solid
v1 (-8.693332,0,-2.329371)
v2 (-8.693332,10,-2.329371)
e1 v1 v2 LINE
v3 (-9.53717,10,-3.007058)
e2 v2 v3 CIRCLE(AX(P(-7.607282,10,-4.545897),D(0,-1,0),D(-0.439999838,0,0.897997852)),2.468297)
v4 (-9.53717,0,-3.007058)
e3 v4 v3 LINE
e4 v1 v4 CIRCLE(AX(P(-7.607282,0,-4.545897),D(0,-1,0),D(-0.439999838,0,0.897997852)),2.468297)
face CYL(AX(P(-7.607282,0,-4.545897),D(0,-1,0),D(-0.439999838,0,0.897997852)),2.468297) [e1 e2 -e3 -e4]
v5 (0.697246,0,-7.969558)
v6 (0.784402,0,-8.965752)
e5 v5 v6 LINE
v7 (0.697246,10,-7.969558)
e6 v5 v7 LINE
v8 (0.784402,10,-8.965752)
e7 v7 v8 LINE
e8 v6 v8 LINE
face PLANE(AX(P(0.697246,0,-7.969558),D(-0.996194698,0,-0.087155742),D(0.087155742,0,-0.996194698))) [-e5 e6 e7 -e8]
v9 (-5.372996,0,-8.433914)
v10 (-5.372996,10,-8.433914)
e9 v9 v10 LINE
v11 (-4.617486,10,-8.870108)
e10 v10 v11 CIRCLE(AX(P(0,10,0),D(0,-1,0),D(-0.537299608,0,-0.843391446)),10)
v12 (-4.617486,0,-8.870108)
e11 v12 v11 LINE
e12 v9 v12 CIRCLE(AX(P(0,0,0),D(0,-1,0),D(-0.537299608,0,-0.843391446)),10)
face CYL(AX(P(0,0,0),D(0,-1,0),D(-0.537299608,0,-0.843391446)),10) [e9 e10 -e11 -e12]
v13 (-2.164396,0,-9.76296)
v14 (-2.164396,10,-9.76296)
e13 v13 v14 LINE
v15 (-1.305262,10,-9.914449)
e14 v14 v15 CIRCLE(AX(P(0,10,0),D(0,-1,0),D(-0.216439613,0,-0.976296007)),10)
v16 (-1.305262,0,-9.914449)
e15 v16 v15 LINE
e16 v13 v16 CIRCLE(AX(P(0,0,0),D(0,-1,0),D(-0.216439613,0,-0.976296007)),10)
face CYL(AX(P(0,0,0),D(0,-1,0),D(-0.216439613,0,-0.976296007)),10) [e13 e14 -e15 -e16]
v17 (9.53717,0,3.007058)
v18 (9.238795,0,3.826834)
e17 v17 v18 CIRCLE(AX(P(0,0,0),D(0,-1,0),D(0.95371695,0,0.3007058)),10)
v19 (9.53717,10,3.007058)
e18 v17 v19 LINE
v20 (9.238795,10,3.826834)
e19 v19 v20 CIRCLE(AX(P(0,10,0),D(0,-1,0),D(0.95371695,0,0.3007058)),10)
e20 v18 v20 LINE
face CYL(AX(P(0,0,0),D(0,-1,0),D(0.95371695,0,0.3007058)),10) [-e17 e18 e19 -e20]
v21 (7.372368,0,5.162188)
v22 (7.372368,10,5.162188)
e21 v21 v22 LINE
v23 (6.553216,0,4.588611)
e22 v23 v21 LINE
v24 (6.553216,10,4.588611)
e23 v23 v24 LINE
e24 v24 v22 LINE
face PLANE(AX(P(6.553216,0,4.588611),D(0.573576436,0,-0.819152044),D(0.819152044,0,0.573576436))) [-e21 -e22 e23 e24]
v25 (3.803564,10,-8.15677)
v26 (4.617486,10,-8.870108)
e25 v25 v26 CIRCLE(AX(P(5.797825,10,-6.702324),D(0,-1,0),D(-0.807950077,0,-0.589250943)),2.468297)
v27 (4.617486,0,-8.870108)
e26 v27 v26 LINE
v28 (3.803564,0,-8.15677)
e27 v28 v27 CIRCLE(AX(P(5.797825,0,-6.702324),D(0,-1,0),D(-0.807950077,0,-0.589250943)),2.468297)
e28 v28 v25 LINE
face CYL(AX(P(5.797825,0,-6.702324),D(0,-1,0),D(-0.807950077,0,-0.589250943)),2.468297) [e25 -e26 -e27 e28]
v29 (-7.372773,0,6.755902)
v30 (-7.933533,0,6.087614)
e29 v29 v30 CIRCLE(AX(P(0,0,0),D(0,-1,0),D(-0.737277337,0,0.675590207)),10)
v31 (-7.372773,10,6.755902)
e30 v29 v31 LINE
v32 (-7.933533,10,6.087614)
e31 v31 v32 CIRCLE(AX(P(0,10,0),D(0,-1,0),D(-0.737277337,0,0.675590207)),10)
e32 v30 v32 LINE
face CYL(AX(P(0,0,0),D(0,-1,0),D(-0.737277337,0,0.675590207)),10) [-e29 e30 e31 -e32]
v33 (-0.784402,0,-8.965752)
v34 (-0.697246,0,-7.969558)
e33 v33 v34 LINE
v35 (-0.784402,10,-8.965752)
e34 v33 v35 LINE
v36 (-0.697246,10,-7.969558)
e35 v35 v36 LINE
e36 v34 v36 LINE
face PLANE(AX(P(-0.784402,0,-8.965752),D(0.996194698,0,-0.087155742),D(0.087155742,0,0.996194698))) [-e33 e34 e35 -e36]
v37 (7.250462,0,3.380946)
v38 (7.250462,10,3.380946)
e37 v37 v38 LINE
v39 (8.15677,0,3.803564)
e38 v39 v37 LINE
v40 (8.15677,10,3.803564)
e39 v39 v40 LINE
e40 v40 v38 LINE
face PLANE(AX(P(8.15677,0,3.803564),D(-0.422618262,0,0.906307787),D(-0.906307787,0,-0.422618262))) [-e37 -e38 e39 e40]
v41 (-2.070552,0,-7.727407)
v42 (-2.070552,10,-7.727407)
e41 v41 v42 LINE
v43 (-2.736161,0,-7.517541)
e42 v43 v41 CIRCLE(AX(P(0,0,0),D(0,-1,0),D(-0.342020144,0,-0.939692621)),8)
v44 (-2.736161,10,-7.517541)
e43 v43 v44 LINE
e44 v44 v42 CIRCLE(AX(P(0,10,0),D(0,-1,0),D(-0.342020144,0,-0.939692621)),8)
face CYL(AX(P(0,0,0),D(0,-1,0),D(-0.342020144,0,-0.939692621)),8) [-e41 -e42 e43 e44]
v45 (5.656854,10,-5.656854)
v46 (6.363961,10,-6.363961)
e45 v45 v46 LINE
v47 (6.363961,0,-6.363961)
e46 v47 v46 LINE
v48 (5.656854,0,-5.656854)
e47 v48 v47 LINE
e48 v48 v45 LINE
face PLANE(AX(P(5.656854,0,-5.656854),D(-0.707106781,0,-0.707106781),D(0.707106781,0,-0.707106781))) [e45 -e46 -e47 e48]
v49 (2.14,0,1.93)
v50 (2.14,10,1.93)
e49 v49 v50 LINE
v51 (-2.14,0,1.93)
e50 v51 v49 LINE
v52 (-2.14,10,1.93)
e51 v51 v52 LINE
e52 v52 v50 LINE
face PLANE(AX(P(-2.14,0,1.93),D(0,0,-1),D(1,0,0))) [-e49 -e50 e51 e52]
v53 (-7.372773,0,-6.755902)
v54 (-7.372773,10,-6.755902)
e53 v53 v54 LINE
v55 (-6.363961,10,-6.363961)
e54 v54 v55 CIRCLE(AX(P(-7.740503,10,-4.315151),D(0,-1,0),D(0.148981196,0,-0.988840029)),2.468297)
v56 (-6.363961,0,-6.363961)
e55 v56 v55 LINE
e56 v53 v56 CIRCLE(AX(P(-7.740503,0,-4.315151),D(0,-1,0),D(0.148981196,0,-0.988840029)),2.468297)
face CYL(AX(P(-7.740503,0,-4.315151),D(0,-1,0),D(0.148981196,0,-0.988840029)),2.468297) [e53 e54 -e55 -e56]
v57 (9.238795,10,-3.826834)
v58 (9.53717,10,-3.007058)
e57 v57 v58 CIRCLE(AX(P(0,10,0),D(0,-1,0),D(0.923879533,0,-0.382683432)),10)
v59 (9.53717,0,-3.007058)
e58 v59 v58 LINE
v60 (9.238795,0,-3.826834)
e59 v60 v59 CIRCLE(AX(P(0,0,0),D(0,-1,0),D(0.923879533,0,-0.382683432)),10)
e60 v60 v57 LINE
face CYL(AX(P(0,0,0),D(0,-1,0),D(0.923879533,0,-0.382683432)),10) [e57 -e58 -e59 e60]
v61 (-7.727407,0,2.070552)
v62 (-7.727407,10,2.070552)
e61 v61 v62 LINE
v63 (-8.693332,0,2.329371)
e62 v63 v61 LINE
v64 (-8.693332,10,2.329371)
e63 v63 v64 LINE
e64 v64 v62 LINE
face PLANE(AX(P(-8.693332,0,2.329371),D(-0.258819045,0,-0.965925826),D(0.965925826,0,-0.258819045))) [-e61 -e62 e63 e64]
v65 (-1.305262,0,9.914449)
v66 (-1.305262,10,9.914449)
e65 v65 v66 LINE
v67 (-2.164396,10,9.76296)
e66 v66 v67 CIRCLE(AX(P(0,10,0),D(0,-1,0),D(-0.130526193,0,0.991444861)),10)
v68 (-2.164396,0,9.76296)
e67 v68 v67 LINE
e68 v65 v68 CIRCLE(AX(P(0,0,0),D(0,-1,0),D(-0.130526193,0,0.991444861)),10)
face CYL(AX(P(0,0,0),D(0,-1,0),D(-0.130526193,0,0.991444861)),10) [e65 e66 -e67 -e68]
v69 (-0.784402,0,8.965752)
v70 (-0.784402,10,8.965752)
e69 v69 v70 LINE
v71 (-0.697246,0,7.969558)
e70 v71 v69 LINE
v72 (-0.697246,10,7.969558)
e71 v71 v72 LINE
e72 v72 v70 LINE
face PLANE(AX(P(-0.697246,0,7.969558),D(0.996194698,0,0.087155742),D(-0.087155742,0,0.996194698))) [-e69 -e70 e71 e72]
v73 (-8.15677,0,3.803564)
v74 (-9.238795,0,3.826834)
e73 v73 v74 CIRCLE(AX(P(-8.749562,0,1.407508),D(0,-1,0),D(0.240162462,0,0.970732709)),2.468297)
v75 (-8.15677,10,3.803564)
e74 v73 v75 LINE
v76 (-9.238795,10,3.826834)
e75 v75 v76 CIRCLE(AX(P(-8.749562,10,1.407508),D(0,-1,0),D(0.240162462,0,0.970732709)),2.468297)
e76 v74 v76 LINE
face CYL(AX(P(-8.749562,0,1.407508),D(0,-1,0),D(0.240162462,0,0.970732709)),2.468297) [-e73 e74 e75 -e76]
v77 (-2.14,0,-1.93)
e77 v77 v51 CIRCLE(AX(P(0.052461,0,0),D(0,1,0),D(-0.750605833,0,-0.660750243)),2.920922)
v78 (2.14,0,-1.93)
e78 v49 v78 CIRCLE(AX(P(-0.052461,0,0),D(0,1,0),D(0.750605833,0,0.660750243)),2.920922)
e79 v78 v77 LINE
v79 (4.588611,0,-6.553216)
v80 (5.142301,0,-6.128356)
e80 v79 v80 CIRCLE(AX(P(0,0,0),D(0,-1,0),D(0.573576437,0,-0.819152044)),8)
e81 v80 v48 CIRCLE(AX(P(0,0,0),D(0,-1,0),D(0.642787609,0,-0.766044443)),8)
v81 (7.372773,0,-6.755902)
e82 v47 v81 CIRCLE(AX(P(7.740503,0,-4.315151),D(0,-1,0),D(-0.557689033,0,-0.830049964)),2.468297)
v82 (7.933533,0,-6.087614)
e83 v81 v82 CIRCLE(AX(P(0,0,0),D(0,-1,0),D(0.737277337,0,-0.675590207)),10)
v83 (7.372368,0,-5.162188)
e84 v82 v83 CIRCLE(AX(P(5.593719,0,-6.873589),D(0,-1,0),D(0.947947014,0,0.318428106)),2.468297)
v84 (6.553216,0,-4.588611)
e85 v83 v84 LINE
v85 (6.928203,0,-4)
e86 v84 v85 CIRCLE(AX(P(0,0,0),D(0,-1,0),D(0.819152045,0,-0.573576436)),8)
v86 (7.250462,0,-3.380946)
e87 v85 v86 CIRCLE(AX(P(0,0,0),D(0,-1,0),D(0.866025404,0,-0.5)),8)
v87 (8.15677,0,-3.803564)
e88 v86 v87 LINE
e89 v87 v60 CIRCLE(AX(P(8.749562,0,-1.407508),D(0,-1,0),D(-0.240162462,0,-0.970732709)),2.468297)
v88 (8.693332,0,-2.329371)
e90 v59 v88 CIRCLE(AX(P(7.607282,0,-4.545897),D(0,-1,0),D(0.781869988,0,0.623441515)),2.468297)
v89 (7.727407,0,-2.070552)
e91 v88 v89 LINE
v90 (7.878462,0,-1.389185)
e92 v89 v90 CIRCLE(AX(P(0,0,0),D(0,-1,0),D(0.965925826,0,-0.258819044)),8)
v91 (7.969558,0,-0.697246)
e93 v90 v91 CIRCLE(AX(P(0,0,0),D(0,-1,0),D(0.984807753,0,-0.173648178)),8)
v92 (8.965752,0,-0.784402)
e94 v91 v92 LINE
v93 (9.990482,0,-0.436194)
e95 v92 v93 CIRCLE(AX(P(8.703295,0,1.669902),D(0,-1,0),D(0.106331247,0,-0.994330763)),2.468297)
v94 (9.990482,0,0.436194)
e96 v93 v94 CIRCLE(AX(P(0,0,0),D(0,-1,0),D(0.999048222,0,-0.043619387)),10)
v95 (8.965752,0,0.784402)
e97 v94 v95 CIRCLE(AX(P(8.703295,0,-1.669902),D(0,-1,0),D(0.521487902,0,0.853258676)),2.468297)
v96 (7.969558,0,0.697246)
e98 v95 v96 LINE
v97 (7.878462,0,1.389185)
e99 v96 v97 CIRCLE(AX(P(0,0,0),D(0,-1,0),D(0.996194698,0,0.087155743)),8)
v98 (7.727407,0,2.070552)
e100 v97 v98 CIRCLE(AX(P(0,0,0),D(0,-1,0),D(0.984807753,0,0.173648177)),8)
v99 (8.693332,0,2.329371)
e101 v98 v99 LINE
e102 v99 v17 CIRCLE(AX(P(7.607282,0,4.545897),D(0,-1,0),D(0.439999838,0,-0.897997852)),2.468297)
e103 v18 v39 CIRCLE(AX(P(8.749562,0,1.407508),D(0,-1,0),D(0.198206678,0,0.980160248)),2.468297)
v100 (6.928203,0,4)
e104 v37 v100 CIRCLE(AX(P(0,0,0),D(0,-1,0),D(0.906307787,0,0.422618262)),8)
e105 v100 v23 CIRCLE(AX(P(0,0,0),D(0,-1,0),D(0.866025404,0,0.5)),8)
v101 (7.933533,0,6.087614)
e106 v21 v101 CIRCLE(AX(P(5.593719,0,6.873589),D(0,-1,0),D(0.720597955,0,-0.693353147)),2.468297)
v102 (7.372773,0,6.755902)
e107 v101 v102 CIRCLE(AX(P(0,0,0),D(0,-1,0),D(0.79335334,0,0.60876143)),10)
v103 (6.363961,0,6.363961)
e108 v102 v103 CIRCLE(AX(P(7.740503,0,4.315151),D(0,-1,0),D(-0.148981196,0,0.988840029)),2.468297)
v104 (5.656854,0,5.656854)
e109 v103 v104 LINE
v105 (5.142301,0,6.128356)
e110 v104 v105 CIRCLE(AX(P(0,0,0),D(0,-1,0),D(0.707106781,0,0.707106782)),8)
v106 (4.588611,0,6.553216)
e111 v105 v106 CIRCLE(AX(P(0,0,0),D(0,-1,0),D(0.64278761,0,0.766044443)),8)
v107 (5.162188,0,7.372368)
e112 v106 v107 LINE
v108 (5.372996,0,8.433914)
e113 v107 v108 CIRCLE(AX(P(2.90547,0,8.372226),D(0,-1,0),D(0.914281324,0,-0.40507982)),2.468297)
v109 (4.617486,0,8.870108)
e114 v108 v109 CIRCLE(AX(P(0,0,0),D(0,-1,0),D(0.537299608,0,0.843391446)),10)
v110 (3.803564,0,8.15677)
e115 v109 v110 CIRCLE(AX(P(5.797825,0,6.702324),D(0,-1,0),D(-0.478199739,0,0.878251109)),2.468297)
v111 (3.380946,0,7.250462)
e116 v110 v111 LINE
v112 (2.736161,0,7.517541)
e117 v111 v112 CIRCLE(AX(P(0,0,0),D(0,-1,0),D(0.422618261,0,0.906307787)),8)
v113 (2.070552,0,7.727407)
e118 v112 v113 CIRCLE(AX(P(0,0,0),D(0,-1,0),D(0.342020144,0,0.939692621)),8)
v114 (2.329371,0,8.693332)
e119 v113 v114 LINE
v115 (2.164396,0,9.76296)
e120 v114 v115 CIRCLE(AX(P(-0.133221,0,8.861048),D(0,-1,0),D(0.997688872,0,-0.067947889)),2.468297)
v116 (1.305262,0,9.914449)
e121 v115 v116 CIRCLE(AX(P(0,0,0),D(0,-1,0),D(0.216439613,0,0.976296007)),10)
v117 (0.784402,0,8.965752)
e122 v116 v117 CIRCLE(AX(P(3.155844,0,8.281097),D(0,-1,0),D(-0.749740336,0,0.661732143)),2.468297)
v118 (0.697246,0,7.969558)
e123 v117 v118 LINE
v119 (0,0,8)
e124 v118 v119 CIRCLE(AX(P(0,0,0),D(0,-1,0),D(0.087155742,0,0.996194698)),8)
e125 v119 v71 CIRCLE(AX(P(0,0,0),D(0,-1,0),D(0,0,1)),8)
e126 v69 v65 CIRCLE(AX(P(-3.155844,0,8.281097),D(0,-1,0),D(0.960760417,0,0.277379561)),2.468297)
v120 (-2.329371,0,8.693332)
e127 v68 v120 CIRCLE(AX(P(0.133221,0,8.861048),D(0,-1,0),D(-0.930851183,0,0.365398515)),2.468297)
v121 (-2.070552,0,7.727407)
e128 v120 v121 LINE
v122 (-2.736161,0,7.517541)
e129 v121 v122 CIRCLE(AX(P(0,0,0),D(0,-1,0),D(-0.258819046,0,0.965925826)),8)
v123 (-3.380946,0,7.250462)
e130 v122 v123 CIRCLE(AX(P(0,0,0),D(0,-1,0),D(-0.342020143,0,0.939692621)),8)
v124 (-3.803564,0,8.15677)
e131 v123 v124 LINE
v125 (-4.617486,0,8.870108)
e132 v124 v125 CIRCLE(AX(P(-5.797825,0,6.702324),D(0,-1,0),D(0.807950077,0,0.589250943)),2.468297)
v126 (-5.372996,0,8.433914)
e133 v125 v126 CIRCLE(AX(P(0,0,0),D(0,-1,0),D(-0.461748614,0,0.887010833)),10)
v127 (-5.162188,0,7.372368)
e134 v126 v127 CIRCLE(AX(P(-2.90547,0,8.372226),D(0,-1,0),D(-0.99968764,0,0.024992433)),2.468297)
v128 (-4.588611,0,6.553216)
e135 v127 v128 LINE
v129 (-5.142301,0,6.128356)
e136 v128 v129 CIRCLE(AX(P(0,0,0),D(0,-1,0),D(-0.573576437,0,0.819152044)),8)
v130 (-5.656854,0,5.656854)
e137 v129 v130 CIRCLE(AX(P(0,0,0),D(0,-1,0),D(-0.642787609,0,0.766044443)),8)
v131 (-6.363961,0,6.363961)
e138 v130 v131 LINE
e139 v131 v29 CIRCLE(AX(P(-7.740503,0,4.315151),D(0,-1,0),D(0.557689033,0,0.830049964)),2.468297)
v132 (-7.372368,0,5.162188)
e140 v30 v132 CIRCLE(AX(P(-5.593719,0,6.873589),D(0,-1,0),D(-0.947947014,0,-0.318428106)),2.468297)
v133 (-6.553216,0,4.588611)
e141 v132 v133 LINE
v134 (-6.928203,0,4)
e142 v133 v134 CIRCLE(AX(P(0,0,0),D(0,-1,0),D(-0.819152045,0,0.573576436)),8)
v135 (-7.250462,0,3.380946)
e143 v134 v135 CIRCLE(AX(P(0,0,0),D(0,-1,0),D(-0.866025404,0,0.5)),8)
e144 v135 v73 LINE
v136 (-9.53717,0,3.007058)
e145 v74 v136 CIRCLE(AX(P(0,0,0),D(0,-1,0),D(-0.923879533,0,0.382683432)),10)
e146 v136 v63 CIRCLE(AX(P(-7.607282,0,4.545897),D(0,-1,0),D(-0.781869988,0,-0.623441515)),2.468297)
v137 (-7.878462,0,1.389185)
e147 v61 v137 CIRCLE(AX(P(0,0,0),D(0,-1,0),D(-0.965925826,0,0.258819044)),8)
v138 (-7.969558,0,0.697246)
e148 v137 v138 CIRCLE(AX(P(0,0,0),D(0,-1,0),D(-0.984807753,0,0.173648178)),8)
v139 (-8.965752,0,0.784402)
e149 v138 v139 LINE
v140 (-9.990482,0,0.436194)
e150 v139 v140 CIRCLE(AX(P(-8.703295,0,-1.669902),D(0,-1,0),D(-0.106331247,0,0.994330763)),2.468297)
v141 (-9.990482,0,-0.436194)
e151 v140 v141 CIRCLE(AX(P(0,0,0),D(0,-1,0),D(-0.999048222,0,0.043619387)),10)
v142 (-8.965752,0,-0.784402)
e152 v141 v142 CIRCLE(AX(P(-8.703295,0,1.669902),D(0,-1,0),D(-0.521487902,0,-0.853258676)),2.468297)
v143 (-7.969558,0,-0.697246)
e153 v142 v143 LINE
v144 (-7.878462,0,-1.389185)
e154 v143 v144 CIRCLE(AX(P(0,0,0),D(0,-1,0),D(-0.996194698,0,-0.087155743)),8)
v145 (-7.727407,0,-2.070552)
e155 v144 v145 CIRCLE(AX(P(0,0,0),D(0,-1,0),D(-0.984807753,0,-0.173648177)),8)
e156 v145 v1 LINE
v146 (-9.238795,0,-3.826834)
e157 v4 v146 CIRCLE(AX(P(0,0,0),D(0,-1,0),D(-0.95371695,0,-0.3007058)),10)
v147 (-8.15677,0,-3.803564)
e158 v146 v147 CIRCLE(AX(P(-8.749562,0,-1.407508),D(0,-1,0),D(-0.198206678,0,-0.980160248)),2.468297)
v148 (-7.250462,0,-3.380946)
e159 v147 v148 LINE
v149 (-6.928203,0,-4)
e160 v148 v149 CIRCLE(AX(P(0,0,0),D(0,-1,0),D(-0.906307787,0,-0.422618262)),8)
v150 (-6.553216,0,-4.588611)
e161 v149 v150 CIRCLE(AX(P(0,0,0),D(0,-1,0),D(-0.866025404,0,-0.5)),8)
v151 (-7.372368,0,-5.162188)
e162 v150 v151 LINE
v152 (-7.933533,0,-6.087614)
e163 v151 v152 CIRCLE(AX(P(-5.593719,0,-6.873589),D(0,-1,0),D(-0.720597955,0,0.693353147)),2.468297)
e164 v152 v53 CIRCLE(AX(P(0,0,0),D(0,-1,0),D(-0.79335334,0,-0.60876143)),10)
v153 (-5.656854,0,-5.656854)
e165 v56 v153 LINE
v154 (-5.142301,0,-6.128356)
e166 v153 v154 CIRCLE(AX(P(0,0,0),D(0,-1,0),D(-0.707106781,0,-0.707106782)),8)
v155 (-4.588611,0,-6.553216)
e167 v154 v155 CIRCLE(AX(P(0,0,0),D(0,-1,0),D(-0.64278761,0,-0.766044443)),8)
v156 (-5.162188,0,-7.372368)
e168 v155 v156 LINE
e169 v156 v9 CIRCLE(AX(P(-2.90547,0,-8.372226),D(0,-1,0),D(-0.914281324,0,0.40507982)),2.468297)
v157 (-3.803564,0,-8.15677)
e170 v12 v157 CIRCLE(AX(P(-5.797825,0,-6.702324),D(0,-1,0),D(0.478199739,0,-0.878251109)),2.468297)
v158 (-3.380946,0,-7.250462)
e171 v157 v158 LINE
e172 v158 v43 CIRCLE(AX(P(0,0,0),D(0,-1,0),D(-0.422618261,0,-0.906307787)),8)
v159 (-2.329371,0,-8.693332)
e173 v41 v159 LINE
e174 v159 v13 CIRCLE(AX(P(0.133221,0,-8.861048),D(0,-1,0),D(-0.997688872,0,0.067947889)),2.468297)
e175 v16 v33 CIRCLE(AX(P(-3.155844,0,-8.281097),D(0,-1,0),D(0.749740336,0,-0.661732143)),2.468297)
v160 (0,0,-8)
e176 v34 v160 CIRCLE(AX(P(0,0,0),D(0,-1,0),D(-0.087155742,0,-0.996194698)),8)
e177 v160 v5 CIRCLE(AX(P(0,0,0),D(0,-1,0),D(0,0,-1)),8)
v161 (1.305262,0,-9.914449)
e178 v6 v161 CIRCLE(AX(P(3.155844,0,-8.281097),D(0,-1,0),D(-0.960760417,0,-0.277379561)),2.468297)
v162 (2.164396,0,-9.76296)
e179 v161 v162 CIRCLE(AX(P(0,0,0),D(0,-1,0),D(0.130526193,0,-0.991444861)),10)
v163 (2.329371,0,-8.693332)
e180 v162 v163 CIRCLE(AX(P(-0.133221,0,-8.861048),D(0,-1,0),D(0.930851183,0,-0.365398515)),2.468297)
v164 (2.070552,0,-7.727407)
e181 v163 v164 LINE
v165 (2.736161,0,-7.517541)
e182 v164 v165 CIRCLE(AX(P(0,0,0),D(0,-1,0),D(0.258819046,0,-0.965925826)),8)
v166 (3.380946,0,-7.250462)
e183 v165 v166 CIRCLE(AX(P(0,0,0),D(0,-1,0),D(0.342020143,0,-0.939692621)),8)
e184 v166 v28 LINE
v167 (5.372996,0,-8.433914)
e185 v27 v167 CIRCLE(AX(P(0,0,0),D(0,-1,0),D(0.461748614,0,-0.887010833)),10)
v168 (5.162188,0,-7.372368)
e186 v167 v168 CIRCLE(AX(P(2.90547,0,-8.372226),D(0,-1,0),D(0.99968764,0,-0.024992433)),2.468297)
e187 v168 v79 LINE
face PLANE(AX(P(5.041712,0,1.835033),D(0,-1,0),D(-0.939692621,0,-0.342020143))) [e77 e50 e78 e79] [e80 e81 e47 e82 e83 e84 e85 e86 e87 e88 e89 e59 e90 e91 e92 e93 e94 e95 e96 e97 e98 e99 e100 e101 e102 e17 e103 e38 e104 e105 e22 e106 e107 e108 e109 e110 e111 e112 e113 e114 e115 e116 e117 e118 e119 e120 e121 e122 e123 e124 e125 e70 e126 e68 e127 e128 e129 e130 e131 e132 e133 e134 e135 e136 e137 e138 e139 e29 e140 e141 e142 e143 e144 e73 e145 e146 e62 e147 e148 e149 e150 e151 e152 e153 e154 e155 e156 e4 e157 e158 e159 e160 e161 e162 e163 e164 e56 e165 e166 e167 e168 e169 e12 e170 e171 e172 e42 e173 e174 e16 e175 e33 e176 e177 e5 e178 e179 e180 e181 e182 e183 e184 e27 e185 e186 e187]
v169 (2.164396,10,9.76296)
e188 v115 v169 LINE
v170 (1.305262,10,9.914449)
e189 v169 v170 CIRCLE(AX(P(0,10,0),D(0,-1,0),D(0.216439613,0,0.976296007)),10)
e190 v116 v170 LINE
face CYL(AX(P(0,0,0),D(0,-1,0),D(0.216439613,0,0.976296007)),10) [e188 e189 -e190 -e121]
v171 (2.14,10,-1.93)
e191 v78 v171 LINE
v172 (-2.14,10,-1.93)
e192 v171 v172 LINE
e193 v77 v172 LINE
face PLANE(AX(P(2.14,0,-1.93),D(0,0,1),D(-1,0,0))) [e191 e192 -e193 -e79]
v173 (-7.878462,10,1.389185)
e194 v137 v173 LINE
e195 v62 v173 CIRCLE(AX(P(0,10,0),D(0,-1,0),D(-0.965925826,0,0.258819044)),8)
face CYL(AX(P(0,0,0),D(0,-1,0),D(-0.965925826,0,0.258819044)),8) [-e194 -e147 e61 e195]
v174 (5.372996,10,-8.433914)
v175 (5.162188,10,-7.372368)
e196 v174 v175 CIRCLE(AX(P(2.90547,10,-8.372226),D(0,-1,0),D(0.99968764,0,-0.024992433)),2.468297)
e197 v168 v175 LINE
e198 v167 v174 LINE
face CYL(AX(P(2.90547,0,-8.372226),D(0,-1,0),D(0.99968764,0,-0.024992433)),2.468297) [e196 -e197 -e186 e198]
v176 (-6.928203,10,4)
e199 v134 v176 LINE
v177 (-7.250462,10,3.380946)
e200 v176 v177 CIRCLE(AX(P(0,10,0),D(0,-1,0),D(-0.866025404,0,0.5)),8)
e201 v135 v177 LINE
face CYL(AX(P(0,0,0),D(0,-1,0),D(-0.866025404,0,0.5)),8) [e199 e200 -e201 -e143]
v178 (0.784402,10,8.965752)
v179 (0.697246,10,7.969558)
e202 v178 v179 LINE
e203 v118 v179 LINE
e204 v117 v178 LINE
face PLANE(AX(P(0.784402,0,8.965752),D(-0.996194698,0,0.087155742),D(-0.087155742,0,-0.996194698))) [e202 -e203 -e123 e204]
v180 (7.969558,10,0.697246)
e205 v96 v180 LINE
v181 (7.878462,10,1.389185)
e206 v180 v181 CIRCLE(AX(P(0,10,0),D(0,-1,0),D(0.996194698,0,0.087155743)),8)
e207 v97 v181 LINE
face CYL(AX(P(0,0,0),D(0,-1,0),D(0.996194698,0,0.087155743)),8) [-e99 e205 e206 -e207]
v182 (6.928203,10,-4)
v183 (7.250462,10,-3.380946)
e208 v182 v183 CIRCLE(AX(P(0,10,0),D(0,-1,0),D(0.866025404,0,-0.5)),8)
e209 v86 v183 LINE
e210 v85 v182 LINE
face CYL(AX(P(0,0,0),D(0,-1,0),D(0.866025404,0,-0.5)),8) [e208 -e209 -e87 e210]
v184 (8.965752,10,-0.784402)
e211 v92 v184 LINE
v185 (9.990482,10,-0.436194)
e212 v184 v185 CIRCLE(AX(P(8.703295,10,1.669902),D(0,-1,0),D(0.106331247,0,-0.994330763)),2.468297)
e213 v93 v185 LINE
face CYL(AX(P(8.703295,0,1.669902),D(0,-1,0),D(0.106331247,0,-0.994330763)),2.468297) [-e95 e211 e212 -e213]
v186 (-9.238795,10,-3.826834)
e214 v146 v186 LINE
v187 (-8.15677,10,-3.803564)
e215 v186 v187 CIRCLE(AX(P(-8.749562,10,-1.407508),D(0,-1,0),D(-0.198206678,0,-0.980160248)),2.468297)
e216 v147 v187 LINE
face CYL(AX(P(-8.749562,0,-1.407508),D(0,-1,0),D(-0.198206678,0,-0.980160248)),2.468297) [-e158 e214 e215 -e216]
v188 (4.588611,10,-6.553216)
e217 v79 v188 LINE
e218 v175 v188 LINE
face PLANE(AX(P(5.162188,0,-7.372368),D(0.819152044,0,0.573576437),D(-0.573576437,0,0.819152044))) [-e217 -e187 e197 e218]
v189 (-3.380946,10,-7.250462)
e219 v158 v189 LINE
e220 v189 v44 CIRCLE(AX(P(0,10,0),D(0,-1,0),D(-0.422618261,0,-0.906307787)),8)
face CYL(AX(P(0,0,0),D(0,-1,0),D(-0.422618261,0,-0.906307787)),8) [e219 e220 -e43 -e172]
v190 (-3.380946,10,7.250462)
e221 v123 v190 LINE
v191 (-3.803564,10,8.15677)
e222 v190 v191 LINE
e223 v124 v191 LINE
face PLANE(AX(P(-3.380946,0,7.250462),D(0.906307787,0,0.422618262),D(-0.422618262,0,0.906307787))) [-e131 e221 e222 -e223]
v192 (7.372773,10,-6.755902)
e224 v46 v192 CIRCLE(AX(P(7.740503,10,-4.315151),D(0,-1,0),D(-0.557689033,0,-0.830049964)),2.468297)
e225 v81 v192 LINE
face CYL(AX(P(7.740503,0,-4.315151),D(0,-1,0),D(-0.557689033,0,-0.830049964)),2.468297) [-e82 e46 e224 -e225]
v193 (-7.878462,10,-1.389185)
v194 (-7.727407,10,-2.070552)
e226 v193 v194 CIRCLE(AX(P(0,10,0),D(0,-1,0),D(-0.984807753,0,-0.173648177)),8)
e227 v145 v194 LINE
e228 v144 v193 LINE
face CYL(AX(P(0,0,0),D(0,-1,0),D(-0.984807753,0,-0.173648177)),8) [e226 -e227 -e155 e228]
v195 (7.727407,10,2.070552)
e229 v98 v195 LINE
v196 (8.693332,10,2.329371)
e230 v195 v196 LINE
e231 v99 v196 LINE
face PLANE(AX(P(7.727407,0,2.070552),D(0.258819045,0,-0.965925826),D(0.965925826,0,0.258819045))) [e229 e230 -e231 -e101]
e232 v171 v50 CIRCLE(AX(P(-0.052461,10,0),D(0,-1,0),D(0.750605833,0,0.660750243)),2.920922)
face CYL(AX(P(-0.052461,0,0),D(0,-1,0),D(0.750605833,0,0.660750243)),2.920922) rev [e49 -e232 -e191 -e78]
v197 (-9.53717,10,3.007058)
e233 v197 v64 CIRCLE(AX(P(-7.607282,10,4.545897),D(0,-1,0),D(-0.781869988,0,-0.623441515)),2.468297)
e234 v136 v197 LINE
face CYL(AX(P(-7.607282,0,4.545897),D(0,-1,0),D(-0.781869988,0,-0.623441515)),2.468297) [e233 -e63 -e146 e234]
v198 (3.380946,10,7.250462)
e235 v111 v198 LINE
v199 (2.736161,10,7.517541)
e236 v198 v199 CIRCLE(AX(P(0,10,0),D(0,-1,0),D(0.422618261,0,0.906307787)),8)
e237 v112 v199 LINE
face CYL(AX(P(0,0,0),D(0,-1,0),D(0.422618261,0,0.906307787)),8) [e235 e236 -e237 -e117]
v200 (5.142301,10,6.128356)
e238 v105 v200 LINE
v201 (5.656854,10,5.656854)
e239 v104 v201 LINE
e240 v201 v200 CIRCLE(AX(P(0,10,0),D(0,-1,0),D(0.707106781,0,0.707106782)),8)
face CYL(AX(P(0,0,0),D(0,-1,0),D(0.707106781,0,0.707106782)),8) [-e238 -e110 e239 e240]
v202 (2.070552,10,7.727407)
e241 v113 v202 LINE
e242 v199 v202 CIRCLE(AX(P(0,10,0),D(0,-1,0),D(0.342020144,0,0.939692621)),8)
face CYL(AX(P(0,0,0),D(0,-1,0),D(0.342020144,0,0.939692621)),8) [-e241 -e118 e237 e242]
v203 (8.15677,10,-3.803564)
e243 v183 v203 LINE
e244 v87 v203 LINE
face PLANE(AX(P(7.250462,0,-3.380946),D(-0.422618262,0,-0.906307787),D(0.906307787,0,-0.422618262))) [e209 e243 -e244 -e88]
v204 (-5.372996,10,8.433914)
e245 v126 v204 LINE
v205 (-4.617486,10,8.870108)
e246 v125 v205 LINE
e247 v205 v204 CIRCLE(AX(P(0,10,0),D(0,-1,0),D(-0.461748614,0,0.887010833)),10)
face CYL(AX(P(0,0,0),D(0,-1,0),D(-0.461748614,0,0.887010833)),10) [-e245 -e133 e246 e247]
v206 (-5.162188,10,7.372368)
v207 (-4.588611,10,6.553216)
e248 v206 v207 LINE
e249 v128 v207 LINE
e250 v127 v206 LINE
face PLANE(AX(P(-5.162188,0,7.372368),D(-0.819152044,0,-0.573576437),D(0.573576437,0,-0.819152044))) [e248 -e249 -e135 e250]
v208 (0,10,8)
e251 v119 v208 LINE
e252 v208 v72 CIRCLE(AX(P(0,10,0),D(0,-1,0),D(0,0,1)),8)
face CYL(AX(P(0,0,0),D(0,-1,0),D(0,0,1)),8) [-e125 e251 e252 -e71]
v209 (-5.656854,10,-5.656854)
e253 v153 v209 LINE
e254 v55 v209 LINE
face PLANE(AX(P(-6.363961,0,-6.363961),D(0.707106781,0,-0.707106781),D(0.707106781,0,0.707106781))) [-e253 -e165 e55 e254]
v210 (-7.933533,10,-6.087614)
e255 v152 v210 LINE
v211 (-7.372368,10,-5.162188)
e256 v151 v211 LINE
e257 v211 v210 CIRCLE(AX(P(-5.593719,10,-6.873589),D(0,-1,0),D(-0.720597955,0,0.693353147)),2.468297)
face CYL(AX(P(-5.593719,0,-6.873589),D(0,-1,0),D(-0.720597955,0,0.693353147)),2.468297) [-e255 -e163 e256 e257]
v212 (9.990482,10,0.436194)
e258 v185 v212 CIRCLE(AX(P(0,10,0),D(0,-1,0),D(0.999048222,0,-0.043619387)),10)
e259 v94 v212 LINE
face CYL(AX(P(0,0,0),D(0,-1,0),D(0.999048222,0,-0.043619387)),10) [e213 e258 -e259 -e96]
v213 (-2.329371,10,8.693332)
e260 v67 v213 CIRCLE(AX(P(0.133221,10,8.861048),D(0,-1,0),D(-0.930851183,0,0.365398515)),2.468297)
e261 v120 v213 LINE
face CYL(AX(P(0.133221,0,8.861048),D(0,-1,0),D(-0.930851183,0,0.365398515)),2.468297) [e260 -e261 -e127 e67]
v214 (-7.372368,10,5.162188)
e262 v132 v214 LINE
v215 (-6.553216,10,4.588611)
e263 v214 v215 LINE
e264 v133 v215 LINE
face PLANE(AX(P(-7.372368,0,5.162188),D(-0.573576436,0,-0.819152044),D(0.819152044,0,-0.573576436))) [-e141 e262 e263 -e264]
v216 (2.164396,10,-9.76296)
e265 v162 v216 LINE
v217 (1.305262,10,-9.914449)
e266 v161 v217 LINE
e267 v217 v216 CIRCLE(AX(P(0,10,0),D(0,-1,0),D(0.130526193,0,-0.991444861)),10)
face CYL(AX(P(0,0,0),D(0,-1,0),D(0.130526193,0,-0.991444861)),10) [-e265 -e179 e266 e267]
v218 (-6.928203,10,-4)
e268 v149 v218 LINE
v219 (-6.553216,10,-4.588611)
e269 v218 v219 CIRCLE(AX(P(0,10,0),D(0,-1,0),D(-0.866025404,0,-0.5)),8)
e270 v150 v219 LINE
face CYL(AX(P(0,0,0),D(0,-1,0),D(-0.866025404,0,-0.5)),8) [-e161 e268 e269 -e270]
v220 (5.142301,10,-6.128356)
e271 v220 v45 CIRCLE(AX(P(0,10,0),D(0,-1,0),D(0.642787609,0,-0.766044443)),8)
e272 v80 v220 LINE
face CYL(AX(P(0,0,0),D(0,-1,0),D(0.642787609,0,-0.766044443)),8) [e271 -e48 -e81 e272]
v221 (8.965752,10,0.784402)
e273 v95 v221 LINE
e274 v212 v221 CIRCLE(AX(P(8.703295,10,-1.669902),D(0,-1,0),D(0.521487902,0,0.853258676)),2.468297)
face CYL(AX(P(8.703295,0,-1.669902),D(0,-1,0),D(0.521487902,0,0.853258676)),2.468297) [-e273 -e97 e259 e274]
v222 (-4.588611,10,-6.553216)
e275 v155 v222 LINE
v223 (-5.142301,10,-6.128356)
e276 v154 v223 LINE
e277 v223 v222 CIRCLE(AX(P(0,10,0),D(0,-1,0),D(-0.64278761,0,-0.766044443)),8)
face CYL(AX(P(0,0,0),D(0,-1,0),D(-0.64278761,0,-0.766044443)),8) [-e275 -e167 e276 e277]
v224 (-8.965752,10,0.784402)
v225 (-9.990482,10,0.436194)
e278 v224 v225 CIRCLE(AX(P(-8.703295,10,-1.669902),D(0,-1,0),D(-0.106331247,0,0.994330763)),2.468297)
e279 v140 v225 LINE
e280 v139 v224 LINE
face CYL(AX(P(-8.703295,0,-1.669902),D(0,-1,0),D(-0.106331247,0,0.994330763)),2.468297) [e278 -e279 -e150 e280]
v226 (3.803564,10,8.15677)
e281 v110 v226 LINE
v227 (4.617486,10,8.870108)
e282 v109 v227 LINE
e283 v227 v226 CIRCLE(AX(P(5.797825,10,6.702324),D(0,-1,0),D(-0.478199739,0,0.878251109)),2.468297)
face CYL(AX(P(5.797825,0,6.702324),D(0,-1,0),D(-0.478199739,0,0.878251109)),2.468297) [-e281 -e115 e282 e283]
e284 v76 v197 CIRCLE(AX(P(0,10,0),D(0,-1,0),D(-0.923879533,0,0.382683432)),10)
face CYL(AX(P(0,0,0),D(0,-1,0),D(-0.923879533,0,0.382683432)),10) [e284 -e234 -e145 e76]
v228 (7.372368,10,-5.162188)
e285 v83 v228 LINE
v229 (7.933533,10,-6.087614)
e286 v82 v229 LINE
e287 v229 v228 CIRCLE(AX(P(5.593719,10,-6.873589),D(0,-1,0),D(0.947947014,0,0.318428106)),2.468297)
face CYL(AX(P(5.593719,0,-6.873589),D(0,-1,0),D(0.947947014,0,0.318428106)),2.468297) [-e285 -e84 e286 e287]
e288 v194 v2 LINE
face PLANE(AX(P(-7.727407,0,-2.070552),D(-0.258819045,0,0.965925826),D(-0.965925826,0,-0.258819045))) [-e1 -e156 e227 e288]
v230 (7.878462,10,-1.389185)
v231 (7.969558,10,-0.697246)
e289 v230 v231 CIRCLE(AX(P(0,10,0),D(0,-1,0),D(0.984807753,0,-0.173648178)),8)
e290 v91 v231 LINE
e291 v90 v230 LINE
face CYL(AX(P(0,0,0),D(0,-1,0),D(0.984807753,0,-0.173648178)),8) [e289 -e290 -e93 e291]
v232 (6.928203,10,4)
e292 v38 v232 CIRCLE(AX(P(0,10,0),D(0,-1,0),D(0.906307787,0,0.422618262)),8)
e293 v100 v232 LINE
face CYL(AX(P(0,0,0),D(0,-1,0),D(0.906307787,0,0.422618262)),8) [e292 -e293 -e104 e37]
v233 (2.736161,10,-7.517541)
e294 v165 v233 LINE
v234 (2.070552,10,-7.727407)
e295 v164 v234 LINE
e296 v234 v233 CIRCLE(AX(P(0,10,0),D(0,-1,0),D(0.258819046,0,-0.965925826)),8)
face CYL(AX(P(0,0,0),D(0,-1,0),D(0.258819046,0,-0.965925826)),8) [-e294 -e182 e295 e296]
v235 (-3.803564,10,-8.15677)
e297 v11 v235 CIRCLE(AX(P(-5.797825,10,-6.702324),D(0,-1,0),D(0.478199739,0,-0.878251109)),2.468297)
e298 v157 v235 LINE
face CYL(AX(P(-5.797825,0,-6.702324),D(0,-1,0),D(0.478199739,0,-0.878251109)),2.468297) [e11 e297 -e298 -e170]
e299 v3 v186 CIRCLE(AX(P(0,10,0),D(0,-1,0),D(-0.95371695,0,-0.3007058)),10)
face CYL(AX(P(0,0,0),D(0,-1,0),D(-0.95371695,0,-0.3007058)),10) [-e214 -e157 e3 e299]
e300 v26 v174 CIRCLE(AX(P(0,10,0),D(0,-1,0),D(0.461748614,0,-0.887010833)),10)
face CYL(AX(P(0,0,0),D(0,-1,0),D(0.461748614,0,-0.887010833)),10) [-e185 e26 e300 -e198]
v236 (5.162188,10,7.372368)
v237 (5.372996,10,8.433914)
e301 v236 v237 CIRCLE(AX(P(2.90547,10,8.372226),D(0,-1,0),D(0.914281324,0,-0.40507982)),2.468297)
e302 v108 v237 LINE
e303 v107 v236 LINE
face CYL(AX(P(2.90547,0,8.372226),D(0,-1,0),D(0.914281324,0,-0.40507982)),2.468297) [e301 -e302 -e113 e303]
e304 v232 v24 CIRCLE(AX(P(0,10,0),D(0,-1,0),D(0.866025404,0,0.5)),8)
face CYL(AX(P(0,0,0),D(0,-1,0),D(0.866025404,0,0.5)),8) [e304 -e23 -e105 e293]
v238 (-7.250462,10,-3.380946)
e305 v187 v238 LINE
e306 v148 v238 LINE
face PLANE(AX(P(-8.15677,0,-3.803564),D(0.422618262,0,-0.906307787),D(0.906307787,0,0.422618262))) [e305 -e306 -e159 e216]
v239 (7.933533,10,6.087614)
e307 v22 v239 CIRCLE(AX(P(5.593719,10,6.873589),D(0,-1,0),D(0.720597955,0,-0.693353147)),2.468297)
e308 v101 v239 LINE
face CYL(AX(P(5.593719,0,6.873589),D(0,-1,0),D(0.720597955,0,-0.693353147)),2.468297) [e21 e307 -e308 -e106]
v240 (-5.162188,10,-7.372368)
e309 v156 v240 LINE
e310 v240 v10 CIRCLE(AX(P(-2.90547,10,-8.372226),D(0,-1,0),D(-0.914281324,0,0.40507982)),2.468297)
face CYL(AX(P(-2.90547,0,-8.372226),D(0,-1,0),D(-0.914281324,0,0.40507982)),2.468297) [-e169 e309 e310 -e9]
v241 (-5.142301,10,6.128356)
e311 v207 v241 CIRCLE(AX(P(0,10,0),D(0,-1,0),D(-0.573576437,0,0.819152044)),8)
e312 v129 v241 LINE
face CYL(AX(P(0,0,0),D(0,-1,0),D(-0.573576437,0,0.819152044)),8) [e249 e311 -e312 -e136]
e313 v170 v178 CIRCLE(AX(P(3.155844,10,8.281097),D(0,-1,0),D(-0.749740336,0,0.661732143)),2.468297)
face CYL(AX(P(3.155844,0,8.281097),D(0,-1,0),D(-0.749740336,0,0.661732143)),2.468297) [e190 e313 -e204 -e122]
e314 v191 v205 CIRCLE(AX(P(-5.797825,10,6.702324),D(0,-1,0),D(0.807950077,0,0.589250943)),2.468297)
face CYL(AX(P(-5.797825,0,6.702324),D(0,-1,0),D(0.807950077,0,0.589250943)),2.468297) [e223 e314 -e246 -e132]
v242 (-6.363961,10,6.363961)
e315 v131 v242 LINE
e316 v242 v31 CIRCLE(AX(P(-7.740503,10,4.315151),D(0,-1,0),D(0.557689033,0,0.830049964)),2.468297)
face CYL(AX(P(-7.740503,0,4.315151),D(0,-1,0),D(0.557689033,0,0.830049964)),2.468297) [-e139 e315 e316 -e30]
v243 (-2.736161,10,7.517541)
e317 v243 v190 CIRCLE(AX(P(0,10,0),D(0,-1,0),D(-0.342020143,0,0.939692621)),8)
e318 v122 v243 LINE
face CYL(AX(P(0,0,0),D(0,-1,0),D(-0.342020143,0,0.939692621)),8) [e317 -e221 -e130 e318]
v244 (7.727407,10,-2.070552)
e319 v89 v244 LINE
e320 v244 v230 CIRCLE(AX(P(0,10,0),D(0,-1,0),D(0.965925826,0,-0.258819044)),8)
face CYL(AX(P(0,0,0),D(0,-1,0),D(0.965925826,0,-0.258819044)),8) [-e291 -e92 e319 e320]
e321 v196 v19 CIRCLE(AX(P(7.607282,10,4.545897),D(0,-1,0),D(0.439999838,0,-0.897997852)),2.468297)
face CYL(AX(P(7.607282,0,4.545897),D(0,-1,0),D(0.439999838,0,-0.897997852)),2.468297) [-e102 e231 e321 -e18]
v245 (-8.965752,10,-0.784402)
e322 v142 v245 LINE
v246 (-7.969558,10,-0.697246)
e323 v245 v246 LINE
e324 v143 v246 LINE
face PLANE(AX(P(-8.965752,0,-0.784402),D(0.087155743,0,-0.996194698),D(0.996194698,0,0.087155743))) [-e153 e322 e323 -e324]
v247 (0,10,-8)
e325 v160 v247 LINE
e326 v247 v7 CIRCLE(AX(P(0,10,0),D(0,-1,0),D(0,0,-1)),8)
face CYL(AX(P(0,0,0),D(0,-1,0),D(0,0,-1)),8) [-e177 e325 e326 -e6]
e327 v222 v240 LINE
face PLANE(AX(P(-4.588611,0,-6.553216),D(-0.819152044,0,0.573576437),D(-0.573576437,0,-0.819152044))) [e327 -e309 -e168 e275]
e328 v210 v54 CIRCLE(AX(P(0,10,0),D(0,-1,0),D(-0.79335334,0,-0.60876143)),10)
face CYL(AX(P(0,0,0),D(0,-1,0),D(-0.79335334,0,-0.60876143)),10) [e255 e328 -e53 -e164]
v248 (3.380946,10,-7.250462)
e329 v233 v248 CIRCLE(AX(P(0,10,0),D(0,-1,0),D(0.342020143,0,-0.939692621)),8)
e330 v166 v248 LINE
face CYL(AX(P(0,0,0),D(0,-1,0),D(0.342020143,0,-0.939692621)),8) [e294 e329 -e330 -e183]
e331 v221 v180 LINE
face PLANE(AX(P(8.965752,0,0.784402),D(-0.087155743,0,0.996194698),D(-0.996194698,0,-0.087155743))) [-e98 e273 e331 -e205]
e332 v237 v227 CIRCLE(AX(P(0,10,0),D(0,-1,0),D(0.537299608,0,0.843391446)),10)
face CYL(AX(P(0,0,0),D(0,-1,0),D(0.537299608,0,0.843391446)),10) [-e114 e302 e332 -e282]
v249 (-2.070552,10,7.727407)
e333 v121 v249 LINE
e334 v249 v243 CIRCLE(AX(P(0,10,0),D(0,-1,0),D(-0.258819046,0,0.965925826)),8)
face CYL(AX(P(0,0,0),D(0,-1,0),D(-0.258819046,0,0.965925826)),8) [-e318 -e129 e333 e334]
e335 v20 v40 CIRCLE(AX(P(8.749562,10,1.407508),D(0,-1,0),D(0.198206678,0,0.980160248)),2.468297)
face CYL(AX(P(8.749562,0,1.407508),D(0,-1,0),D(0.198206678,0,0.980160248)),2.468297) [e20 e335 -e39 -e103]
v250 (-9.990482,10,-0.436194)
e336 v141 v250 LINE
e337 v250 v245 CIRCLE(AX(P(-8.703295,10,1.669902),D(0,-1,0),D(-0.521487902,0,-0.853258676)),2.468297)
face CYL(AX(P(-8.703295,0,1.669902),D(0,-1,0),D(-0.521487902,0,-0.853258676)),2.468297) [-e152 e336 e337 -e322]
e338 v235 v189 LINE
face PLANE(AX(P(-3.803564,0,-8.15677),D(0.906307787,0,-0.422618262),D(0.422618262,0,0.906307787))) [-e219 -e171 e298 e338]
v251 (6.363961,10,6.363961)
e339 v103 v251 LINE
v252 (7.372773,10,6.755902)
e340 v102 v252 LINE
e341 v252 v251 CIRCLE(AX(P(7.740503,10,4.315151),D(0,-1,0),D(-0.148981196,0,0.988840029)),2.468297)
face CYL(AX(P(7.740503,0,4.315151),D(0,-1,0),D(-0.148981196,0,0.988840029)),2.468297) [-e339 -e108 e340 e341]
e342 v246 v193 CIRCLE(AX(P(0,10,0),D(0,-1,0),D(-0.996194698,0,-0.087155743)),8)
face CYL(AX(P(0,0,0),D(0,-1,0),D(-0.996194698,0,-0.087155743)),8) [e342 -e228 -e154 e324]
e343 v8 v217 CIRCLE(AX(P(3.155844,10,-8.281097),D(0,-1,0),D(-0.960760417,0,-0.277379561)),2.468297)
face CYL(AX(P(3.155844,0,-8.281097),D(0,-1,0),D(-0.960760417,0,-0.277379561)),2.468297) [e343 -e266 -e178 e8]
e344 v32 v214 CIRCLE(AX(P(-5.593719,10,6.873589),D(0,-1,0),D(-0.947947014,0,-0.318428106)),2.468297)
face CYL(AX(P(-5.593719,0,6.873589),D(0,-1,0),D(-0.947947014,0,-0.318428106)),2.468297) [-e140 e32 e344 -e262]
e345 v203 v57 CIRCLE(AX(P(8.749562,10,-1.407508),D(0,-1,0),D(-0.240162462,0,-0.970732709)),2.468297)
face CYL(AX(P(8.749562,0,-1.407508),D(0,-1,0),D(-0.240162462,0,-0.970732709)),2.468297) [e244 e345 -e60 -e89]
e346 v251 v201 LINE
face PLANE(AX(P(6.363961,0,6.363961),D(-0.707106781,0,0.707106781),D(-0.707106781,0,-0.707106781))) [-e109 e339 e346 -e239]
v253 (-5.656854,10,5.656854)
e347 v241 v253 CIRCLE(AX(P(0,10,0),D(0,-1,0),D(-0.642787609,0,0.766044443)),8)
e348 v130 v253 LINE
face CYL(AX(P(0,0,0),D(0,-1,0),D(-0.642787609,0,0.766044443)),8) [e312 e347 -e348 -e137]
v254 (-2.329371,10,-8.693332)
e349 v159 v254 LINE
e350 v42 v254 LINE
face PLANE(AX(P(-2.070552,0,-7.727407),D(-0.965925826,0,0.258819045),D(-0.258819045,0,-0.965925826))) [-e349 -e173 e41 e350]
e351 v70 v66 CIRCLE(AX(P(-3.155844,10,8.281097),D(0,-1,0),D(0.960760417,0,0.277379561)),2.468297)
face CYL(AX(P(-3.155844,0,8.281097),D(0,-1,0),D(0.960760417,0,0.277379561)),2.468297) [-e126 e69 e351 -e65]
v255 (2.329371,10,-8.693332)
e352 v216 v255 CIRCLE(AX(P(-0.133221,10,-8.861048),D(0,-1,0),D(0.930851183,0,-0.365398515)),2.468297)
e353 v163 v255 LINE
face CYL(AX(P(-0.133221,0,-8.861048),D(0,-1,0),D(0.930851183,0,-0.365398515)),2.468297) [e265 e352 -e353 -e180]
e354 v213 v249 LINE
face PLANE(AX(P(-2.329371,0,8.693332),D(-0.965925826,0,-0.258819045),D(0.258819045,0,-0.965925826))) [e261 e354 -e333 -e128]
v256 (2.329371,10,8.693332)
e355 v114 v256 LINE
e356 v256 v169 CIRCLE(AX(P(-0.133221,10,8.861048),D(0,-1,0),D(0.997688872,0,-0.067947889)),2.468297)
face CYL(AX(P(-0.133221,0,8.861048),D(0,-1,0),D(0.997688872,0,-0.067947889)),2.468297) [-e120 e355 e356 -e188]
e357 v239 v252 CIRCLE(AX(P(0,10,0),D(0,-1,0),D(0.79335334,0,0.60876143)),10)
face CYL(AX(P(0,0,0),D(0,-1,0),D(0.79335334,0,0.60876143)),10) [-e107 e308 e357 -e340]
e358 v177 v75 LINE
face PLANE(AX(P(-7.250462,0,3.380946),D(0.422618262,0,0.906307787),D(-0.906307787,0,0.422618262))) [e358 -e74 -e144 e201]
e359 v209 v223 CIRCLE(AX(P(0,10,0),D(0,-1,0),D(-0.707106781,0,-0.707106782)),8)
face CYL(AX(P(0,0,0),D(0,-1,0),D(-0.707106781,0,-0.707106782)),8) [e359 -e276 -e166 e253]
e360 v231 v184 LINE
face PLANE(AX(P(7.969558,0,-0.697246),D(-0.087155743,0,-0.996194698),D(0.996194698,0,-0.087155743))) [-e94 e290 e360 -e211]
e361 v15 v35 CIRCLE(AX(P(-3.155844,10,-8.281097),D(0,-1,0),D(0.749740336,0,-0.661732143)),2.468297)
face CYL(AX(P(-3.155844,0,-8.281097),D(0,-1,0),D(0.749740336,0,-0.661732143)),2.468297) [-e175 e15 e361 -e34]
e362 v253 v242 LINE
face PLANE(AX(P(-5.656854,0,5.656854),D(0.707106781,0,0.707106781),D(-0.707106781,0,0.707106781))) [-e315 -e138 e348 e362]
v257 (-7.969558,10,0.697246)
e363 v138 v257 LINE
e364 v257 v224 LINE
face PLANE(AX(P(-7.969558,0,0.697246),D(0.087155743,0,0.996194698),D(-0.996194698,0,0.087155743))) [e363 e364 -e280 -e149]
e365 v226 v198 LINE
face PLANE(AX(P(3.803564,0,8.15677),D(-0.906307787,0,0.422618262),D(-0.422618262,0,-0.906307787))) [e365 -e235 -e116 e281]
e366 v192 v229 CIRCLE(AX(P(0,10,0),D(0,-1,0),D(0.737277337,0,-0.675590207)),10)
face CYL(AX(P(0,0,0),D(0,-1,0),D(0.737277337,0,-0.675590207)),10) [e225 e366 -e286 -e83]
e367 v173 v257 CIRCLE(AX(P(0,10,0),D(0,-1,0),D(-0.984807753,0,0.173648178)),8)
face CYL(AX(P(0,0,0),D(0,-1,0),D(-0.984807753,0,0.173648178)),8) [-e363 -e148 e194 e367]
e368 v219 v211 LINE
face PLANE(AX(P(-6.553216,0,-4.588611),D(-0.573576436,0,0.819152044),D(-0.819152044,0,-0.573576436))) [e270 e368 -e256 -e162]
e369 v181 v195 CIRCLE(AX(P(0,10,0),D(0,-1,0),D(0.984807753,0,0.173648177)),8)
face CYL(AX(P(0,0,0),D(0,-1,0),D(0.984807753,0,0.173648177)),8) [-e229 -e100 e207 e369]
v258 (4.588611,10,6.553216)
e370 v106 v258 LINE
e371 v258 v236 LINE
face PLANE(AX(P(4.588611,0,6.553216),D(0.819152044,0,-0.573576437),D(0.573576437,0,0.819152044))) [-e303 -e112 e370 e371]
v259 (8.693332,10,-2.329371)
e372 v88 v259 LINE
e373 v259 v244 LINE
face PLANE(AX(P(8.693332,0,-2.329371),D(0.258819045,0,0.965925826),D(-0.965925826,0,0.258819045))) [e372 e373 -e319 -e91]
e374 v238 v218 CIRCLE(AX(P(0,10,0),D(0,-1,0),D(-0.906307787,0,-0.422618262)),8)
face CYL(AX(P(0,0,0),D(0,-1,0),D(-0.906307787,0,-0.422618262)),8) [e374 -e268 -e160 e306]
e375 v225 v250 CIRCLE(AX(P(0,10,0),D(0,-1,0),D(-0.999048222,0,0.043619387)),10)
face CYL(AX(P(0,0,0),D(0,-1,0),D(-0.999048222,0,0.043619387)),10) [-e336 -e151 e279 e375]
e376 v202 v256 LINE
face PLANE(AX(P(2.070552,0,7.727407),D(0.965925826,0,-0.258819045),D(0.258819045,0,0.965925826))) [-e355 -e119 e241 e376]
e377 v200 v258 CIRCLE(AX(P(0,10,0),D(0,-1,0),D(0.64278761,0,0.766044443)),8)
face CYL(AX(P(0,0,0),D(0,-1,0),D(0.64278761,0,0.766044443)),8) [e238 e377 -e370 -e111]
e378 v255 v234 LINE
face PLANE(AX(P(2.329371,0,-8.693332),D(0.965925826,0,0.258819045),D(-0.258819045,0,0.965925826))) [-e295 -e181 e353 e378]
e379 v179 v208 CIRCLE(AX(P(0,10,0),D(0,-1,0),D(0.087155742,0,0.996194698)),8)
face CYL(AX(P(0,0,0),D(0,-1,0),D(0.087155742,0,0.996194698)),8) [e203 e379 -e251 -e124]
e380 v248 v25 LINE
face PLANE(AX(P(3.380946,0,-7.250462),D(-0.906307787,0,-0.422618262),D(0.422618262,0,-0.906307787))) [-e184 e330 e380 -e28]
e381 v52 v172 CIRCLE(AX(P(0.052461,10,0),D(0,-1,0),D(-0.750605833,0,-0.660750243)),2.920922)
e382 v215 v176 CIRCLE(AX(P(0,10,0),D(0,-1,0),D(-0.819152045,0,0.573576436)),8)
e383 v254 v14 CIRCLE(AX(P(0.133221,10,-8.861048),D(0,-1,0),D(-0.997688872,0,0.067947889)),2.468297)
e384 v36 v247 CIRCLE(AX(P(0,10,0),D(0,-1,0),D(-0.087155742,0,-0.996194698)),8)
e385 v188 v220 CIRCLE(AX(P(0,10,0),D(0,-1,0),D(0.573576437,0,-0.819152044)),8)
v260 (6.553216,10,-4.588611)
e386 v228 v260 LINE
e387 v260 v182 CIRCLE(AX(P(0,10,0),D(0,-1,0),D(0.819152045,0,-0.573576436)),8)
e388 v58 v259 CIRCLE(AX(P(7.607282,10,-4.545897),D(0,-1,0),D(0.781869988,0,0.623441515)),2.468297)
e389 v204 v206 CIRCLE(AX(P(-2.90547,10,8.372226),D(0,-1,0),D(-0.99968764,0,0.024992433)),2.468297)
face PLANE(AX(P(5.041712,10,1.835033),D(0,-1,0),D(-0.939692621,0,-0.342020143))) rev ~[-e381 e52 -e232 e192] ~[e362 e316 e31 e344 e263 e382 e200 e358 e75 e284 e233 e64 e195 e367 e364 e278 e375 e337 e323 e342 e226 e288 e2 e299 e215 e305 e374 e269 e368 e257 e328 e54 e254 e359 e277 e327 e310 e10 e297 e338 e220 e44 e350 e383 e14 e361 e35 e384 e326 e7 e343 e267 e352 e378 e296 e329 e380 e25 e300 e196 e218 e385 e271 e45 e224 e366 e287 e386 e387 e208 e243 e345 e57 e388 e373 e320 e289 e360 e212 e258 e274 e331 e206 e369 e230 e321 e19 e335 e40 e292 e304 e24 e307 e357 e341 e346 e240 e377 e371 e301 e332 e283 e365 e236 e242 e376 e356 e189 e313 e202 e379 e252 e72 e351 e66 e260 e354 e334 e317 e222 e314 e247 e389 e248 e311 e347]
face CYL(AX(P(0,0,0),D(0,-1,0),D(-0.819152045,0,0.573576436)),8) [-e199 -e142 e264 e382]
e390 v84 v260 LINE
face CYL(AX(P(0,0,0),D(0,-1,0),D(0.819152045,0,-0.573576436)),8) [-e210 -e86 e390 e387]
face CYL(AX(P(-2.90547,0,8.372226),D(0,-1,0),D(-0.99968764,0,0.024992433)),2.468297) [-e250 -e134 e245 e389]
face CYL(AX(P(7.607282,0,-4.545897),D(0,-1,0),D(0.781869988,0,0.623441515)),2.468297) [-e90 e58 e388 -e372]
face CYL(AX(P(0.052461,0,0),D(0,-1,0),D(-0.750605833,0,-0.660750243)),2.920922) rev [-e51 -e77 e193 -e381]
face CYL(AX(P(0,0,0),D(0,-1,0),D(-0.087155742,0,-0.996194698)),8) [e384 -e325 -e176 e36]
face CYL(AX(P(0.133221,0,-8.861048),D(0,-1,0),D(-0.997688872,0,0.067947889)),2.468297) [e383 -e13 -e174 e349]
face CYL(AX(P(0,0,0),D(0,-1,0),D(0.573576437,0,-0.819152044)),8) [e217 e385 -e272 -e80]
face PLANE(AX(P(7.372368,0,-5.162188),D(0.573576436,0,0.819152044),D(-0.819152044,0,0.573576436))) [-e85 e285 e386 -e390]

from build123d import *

# Parameters (mm, degrees)
BOSS_EXTRUDE1_DEPTH = 10
CIRPATTERN1_COUNT   = 18
CUT_EXTRUDE1_DEPTH  = 18.271256217


with BuildPart() as part:
    # Sketch1 → Boss-Extrude1 (new body)
    with BuildSketch(Plane(origin=(0, 0, 0), x_dir=(1, 0, 0), z_dir=(0, 1, 0))):
        with BuildLine():
            Line((7.969557585, 0.697245942), (8.965752283, 0.784401685))
            ThreePointArc((8.965752283, 0.784401685), (9.497437113, 0.667153604), (9.990482216, 0.436193874))
            ThreePointArc((9.990482216, 0.436193874), (10, 0), (9.990482216, -0.436193874))
            ThreePointArc((9.990482216, -0.436193874), (9.497437113, -0.667153604), (8.965752283, -0.784401685))
            Line((8.965752283, -0.784401685), (7.969557585, -0.697245942))
            ThreePointArc((7.969557585, -0.697245942), (7.931558891, -1.044209538), (7.878462024, -1.389185421))
            Line((7.878462024, -1.389185421), (0, 0))
            Line((0, 0), (7.878462024, 1.389185421))
            ThreePointArc((7.878462024, 1.389185421), (7.931558891, 1.044209538), (7.969557585, 0.697245942))
        make_face()
    boss_extrude1 = extrude(amount=BOSS_EXTRUDE1_DEPTH)

    # CirPattern1: Boss-Extrude1 ×18 about axis
    cirpattern1_axis = Axis((0, 0, 0), (0, 1, 0))
    for i in range(1, CIRPATTERN1_COUNT):
        add(boss_extrude1.rotate(cirpattern1_axis, i * 360 / CIRPATTERN1_COUNT))

    # Sketch6 → Cut-Extrude1 (cut, through all)
    with BuildSketch(Plane.XZ):
        with BuildLine():
            Line((-2.14, 1.93), (2.14, 1.93))
            ThreePointArc((2.14, 1.93), (2.868460939, 0), (2.14, -1.93))
            Line((2.14, -1.93), (-2.14, -1.93))
            ThreePointArc((-2.14, -1.93), (-2.868460939, 0), (-2.14, 1.93))
        make_face()
    extrude(amount=-CUT_EXTRUDE1_DEPTH, mode=Mode.SUBTRACT)


solid = part.part
